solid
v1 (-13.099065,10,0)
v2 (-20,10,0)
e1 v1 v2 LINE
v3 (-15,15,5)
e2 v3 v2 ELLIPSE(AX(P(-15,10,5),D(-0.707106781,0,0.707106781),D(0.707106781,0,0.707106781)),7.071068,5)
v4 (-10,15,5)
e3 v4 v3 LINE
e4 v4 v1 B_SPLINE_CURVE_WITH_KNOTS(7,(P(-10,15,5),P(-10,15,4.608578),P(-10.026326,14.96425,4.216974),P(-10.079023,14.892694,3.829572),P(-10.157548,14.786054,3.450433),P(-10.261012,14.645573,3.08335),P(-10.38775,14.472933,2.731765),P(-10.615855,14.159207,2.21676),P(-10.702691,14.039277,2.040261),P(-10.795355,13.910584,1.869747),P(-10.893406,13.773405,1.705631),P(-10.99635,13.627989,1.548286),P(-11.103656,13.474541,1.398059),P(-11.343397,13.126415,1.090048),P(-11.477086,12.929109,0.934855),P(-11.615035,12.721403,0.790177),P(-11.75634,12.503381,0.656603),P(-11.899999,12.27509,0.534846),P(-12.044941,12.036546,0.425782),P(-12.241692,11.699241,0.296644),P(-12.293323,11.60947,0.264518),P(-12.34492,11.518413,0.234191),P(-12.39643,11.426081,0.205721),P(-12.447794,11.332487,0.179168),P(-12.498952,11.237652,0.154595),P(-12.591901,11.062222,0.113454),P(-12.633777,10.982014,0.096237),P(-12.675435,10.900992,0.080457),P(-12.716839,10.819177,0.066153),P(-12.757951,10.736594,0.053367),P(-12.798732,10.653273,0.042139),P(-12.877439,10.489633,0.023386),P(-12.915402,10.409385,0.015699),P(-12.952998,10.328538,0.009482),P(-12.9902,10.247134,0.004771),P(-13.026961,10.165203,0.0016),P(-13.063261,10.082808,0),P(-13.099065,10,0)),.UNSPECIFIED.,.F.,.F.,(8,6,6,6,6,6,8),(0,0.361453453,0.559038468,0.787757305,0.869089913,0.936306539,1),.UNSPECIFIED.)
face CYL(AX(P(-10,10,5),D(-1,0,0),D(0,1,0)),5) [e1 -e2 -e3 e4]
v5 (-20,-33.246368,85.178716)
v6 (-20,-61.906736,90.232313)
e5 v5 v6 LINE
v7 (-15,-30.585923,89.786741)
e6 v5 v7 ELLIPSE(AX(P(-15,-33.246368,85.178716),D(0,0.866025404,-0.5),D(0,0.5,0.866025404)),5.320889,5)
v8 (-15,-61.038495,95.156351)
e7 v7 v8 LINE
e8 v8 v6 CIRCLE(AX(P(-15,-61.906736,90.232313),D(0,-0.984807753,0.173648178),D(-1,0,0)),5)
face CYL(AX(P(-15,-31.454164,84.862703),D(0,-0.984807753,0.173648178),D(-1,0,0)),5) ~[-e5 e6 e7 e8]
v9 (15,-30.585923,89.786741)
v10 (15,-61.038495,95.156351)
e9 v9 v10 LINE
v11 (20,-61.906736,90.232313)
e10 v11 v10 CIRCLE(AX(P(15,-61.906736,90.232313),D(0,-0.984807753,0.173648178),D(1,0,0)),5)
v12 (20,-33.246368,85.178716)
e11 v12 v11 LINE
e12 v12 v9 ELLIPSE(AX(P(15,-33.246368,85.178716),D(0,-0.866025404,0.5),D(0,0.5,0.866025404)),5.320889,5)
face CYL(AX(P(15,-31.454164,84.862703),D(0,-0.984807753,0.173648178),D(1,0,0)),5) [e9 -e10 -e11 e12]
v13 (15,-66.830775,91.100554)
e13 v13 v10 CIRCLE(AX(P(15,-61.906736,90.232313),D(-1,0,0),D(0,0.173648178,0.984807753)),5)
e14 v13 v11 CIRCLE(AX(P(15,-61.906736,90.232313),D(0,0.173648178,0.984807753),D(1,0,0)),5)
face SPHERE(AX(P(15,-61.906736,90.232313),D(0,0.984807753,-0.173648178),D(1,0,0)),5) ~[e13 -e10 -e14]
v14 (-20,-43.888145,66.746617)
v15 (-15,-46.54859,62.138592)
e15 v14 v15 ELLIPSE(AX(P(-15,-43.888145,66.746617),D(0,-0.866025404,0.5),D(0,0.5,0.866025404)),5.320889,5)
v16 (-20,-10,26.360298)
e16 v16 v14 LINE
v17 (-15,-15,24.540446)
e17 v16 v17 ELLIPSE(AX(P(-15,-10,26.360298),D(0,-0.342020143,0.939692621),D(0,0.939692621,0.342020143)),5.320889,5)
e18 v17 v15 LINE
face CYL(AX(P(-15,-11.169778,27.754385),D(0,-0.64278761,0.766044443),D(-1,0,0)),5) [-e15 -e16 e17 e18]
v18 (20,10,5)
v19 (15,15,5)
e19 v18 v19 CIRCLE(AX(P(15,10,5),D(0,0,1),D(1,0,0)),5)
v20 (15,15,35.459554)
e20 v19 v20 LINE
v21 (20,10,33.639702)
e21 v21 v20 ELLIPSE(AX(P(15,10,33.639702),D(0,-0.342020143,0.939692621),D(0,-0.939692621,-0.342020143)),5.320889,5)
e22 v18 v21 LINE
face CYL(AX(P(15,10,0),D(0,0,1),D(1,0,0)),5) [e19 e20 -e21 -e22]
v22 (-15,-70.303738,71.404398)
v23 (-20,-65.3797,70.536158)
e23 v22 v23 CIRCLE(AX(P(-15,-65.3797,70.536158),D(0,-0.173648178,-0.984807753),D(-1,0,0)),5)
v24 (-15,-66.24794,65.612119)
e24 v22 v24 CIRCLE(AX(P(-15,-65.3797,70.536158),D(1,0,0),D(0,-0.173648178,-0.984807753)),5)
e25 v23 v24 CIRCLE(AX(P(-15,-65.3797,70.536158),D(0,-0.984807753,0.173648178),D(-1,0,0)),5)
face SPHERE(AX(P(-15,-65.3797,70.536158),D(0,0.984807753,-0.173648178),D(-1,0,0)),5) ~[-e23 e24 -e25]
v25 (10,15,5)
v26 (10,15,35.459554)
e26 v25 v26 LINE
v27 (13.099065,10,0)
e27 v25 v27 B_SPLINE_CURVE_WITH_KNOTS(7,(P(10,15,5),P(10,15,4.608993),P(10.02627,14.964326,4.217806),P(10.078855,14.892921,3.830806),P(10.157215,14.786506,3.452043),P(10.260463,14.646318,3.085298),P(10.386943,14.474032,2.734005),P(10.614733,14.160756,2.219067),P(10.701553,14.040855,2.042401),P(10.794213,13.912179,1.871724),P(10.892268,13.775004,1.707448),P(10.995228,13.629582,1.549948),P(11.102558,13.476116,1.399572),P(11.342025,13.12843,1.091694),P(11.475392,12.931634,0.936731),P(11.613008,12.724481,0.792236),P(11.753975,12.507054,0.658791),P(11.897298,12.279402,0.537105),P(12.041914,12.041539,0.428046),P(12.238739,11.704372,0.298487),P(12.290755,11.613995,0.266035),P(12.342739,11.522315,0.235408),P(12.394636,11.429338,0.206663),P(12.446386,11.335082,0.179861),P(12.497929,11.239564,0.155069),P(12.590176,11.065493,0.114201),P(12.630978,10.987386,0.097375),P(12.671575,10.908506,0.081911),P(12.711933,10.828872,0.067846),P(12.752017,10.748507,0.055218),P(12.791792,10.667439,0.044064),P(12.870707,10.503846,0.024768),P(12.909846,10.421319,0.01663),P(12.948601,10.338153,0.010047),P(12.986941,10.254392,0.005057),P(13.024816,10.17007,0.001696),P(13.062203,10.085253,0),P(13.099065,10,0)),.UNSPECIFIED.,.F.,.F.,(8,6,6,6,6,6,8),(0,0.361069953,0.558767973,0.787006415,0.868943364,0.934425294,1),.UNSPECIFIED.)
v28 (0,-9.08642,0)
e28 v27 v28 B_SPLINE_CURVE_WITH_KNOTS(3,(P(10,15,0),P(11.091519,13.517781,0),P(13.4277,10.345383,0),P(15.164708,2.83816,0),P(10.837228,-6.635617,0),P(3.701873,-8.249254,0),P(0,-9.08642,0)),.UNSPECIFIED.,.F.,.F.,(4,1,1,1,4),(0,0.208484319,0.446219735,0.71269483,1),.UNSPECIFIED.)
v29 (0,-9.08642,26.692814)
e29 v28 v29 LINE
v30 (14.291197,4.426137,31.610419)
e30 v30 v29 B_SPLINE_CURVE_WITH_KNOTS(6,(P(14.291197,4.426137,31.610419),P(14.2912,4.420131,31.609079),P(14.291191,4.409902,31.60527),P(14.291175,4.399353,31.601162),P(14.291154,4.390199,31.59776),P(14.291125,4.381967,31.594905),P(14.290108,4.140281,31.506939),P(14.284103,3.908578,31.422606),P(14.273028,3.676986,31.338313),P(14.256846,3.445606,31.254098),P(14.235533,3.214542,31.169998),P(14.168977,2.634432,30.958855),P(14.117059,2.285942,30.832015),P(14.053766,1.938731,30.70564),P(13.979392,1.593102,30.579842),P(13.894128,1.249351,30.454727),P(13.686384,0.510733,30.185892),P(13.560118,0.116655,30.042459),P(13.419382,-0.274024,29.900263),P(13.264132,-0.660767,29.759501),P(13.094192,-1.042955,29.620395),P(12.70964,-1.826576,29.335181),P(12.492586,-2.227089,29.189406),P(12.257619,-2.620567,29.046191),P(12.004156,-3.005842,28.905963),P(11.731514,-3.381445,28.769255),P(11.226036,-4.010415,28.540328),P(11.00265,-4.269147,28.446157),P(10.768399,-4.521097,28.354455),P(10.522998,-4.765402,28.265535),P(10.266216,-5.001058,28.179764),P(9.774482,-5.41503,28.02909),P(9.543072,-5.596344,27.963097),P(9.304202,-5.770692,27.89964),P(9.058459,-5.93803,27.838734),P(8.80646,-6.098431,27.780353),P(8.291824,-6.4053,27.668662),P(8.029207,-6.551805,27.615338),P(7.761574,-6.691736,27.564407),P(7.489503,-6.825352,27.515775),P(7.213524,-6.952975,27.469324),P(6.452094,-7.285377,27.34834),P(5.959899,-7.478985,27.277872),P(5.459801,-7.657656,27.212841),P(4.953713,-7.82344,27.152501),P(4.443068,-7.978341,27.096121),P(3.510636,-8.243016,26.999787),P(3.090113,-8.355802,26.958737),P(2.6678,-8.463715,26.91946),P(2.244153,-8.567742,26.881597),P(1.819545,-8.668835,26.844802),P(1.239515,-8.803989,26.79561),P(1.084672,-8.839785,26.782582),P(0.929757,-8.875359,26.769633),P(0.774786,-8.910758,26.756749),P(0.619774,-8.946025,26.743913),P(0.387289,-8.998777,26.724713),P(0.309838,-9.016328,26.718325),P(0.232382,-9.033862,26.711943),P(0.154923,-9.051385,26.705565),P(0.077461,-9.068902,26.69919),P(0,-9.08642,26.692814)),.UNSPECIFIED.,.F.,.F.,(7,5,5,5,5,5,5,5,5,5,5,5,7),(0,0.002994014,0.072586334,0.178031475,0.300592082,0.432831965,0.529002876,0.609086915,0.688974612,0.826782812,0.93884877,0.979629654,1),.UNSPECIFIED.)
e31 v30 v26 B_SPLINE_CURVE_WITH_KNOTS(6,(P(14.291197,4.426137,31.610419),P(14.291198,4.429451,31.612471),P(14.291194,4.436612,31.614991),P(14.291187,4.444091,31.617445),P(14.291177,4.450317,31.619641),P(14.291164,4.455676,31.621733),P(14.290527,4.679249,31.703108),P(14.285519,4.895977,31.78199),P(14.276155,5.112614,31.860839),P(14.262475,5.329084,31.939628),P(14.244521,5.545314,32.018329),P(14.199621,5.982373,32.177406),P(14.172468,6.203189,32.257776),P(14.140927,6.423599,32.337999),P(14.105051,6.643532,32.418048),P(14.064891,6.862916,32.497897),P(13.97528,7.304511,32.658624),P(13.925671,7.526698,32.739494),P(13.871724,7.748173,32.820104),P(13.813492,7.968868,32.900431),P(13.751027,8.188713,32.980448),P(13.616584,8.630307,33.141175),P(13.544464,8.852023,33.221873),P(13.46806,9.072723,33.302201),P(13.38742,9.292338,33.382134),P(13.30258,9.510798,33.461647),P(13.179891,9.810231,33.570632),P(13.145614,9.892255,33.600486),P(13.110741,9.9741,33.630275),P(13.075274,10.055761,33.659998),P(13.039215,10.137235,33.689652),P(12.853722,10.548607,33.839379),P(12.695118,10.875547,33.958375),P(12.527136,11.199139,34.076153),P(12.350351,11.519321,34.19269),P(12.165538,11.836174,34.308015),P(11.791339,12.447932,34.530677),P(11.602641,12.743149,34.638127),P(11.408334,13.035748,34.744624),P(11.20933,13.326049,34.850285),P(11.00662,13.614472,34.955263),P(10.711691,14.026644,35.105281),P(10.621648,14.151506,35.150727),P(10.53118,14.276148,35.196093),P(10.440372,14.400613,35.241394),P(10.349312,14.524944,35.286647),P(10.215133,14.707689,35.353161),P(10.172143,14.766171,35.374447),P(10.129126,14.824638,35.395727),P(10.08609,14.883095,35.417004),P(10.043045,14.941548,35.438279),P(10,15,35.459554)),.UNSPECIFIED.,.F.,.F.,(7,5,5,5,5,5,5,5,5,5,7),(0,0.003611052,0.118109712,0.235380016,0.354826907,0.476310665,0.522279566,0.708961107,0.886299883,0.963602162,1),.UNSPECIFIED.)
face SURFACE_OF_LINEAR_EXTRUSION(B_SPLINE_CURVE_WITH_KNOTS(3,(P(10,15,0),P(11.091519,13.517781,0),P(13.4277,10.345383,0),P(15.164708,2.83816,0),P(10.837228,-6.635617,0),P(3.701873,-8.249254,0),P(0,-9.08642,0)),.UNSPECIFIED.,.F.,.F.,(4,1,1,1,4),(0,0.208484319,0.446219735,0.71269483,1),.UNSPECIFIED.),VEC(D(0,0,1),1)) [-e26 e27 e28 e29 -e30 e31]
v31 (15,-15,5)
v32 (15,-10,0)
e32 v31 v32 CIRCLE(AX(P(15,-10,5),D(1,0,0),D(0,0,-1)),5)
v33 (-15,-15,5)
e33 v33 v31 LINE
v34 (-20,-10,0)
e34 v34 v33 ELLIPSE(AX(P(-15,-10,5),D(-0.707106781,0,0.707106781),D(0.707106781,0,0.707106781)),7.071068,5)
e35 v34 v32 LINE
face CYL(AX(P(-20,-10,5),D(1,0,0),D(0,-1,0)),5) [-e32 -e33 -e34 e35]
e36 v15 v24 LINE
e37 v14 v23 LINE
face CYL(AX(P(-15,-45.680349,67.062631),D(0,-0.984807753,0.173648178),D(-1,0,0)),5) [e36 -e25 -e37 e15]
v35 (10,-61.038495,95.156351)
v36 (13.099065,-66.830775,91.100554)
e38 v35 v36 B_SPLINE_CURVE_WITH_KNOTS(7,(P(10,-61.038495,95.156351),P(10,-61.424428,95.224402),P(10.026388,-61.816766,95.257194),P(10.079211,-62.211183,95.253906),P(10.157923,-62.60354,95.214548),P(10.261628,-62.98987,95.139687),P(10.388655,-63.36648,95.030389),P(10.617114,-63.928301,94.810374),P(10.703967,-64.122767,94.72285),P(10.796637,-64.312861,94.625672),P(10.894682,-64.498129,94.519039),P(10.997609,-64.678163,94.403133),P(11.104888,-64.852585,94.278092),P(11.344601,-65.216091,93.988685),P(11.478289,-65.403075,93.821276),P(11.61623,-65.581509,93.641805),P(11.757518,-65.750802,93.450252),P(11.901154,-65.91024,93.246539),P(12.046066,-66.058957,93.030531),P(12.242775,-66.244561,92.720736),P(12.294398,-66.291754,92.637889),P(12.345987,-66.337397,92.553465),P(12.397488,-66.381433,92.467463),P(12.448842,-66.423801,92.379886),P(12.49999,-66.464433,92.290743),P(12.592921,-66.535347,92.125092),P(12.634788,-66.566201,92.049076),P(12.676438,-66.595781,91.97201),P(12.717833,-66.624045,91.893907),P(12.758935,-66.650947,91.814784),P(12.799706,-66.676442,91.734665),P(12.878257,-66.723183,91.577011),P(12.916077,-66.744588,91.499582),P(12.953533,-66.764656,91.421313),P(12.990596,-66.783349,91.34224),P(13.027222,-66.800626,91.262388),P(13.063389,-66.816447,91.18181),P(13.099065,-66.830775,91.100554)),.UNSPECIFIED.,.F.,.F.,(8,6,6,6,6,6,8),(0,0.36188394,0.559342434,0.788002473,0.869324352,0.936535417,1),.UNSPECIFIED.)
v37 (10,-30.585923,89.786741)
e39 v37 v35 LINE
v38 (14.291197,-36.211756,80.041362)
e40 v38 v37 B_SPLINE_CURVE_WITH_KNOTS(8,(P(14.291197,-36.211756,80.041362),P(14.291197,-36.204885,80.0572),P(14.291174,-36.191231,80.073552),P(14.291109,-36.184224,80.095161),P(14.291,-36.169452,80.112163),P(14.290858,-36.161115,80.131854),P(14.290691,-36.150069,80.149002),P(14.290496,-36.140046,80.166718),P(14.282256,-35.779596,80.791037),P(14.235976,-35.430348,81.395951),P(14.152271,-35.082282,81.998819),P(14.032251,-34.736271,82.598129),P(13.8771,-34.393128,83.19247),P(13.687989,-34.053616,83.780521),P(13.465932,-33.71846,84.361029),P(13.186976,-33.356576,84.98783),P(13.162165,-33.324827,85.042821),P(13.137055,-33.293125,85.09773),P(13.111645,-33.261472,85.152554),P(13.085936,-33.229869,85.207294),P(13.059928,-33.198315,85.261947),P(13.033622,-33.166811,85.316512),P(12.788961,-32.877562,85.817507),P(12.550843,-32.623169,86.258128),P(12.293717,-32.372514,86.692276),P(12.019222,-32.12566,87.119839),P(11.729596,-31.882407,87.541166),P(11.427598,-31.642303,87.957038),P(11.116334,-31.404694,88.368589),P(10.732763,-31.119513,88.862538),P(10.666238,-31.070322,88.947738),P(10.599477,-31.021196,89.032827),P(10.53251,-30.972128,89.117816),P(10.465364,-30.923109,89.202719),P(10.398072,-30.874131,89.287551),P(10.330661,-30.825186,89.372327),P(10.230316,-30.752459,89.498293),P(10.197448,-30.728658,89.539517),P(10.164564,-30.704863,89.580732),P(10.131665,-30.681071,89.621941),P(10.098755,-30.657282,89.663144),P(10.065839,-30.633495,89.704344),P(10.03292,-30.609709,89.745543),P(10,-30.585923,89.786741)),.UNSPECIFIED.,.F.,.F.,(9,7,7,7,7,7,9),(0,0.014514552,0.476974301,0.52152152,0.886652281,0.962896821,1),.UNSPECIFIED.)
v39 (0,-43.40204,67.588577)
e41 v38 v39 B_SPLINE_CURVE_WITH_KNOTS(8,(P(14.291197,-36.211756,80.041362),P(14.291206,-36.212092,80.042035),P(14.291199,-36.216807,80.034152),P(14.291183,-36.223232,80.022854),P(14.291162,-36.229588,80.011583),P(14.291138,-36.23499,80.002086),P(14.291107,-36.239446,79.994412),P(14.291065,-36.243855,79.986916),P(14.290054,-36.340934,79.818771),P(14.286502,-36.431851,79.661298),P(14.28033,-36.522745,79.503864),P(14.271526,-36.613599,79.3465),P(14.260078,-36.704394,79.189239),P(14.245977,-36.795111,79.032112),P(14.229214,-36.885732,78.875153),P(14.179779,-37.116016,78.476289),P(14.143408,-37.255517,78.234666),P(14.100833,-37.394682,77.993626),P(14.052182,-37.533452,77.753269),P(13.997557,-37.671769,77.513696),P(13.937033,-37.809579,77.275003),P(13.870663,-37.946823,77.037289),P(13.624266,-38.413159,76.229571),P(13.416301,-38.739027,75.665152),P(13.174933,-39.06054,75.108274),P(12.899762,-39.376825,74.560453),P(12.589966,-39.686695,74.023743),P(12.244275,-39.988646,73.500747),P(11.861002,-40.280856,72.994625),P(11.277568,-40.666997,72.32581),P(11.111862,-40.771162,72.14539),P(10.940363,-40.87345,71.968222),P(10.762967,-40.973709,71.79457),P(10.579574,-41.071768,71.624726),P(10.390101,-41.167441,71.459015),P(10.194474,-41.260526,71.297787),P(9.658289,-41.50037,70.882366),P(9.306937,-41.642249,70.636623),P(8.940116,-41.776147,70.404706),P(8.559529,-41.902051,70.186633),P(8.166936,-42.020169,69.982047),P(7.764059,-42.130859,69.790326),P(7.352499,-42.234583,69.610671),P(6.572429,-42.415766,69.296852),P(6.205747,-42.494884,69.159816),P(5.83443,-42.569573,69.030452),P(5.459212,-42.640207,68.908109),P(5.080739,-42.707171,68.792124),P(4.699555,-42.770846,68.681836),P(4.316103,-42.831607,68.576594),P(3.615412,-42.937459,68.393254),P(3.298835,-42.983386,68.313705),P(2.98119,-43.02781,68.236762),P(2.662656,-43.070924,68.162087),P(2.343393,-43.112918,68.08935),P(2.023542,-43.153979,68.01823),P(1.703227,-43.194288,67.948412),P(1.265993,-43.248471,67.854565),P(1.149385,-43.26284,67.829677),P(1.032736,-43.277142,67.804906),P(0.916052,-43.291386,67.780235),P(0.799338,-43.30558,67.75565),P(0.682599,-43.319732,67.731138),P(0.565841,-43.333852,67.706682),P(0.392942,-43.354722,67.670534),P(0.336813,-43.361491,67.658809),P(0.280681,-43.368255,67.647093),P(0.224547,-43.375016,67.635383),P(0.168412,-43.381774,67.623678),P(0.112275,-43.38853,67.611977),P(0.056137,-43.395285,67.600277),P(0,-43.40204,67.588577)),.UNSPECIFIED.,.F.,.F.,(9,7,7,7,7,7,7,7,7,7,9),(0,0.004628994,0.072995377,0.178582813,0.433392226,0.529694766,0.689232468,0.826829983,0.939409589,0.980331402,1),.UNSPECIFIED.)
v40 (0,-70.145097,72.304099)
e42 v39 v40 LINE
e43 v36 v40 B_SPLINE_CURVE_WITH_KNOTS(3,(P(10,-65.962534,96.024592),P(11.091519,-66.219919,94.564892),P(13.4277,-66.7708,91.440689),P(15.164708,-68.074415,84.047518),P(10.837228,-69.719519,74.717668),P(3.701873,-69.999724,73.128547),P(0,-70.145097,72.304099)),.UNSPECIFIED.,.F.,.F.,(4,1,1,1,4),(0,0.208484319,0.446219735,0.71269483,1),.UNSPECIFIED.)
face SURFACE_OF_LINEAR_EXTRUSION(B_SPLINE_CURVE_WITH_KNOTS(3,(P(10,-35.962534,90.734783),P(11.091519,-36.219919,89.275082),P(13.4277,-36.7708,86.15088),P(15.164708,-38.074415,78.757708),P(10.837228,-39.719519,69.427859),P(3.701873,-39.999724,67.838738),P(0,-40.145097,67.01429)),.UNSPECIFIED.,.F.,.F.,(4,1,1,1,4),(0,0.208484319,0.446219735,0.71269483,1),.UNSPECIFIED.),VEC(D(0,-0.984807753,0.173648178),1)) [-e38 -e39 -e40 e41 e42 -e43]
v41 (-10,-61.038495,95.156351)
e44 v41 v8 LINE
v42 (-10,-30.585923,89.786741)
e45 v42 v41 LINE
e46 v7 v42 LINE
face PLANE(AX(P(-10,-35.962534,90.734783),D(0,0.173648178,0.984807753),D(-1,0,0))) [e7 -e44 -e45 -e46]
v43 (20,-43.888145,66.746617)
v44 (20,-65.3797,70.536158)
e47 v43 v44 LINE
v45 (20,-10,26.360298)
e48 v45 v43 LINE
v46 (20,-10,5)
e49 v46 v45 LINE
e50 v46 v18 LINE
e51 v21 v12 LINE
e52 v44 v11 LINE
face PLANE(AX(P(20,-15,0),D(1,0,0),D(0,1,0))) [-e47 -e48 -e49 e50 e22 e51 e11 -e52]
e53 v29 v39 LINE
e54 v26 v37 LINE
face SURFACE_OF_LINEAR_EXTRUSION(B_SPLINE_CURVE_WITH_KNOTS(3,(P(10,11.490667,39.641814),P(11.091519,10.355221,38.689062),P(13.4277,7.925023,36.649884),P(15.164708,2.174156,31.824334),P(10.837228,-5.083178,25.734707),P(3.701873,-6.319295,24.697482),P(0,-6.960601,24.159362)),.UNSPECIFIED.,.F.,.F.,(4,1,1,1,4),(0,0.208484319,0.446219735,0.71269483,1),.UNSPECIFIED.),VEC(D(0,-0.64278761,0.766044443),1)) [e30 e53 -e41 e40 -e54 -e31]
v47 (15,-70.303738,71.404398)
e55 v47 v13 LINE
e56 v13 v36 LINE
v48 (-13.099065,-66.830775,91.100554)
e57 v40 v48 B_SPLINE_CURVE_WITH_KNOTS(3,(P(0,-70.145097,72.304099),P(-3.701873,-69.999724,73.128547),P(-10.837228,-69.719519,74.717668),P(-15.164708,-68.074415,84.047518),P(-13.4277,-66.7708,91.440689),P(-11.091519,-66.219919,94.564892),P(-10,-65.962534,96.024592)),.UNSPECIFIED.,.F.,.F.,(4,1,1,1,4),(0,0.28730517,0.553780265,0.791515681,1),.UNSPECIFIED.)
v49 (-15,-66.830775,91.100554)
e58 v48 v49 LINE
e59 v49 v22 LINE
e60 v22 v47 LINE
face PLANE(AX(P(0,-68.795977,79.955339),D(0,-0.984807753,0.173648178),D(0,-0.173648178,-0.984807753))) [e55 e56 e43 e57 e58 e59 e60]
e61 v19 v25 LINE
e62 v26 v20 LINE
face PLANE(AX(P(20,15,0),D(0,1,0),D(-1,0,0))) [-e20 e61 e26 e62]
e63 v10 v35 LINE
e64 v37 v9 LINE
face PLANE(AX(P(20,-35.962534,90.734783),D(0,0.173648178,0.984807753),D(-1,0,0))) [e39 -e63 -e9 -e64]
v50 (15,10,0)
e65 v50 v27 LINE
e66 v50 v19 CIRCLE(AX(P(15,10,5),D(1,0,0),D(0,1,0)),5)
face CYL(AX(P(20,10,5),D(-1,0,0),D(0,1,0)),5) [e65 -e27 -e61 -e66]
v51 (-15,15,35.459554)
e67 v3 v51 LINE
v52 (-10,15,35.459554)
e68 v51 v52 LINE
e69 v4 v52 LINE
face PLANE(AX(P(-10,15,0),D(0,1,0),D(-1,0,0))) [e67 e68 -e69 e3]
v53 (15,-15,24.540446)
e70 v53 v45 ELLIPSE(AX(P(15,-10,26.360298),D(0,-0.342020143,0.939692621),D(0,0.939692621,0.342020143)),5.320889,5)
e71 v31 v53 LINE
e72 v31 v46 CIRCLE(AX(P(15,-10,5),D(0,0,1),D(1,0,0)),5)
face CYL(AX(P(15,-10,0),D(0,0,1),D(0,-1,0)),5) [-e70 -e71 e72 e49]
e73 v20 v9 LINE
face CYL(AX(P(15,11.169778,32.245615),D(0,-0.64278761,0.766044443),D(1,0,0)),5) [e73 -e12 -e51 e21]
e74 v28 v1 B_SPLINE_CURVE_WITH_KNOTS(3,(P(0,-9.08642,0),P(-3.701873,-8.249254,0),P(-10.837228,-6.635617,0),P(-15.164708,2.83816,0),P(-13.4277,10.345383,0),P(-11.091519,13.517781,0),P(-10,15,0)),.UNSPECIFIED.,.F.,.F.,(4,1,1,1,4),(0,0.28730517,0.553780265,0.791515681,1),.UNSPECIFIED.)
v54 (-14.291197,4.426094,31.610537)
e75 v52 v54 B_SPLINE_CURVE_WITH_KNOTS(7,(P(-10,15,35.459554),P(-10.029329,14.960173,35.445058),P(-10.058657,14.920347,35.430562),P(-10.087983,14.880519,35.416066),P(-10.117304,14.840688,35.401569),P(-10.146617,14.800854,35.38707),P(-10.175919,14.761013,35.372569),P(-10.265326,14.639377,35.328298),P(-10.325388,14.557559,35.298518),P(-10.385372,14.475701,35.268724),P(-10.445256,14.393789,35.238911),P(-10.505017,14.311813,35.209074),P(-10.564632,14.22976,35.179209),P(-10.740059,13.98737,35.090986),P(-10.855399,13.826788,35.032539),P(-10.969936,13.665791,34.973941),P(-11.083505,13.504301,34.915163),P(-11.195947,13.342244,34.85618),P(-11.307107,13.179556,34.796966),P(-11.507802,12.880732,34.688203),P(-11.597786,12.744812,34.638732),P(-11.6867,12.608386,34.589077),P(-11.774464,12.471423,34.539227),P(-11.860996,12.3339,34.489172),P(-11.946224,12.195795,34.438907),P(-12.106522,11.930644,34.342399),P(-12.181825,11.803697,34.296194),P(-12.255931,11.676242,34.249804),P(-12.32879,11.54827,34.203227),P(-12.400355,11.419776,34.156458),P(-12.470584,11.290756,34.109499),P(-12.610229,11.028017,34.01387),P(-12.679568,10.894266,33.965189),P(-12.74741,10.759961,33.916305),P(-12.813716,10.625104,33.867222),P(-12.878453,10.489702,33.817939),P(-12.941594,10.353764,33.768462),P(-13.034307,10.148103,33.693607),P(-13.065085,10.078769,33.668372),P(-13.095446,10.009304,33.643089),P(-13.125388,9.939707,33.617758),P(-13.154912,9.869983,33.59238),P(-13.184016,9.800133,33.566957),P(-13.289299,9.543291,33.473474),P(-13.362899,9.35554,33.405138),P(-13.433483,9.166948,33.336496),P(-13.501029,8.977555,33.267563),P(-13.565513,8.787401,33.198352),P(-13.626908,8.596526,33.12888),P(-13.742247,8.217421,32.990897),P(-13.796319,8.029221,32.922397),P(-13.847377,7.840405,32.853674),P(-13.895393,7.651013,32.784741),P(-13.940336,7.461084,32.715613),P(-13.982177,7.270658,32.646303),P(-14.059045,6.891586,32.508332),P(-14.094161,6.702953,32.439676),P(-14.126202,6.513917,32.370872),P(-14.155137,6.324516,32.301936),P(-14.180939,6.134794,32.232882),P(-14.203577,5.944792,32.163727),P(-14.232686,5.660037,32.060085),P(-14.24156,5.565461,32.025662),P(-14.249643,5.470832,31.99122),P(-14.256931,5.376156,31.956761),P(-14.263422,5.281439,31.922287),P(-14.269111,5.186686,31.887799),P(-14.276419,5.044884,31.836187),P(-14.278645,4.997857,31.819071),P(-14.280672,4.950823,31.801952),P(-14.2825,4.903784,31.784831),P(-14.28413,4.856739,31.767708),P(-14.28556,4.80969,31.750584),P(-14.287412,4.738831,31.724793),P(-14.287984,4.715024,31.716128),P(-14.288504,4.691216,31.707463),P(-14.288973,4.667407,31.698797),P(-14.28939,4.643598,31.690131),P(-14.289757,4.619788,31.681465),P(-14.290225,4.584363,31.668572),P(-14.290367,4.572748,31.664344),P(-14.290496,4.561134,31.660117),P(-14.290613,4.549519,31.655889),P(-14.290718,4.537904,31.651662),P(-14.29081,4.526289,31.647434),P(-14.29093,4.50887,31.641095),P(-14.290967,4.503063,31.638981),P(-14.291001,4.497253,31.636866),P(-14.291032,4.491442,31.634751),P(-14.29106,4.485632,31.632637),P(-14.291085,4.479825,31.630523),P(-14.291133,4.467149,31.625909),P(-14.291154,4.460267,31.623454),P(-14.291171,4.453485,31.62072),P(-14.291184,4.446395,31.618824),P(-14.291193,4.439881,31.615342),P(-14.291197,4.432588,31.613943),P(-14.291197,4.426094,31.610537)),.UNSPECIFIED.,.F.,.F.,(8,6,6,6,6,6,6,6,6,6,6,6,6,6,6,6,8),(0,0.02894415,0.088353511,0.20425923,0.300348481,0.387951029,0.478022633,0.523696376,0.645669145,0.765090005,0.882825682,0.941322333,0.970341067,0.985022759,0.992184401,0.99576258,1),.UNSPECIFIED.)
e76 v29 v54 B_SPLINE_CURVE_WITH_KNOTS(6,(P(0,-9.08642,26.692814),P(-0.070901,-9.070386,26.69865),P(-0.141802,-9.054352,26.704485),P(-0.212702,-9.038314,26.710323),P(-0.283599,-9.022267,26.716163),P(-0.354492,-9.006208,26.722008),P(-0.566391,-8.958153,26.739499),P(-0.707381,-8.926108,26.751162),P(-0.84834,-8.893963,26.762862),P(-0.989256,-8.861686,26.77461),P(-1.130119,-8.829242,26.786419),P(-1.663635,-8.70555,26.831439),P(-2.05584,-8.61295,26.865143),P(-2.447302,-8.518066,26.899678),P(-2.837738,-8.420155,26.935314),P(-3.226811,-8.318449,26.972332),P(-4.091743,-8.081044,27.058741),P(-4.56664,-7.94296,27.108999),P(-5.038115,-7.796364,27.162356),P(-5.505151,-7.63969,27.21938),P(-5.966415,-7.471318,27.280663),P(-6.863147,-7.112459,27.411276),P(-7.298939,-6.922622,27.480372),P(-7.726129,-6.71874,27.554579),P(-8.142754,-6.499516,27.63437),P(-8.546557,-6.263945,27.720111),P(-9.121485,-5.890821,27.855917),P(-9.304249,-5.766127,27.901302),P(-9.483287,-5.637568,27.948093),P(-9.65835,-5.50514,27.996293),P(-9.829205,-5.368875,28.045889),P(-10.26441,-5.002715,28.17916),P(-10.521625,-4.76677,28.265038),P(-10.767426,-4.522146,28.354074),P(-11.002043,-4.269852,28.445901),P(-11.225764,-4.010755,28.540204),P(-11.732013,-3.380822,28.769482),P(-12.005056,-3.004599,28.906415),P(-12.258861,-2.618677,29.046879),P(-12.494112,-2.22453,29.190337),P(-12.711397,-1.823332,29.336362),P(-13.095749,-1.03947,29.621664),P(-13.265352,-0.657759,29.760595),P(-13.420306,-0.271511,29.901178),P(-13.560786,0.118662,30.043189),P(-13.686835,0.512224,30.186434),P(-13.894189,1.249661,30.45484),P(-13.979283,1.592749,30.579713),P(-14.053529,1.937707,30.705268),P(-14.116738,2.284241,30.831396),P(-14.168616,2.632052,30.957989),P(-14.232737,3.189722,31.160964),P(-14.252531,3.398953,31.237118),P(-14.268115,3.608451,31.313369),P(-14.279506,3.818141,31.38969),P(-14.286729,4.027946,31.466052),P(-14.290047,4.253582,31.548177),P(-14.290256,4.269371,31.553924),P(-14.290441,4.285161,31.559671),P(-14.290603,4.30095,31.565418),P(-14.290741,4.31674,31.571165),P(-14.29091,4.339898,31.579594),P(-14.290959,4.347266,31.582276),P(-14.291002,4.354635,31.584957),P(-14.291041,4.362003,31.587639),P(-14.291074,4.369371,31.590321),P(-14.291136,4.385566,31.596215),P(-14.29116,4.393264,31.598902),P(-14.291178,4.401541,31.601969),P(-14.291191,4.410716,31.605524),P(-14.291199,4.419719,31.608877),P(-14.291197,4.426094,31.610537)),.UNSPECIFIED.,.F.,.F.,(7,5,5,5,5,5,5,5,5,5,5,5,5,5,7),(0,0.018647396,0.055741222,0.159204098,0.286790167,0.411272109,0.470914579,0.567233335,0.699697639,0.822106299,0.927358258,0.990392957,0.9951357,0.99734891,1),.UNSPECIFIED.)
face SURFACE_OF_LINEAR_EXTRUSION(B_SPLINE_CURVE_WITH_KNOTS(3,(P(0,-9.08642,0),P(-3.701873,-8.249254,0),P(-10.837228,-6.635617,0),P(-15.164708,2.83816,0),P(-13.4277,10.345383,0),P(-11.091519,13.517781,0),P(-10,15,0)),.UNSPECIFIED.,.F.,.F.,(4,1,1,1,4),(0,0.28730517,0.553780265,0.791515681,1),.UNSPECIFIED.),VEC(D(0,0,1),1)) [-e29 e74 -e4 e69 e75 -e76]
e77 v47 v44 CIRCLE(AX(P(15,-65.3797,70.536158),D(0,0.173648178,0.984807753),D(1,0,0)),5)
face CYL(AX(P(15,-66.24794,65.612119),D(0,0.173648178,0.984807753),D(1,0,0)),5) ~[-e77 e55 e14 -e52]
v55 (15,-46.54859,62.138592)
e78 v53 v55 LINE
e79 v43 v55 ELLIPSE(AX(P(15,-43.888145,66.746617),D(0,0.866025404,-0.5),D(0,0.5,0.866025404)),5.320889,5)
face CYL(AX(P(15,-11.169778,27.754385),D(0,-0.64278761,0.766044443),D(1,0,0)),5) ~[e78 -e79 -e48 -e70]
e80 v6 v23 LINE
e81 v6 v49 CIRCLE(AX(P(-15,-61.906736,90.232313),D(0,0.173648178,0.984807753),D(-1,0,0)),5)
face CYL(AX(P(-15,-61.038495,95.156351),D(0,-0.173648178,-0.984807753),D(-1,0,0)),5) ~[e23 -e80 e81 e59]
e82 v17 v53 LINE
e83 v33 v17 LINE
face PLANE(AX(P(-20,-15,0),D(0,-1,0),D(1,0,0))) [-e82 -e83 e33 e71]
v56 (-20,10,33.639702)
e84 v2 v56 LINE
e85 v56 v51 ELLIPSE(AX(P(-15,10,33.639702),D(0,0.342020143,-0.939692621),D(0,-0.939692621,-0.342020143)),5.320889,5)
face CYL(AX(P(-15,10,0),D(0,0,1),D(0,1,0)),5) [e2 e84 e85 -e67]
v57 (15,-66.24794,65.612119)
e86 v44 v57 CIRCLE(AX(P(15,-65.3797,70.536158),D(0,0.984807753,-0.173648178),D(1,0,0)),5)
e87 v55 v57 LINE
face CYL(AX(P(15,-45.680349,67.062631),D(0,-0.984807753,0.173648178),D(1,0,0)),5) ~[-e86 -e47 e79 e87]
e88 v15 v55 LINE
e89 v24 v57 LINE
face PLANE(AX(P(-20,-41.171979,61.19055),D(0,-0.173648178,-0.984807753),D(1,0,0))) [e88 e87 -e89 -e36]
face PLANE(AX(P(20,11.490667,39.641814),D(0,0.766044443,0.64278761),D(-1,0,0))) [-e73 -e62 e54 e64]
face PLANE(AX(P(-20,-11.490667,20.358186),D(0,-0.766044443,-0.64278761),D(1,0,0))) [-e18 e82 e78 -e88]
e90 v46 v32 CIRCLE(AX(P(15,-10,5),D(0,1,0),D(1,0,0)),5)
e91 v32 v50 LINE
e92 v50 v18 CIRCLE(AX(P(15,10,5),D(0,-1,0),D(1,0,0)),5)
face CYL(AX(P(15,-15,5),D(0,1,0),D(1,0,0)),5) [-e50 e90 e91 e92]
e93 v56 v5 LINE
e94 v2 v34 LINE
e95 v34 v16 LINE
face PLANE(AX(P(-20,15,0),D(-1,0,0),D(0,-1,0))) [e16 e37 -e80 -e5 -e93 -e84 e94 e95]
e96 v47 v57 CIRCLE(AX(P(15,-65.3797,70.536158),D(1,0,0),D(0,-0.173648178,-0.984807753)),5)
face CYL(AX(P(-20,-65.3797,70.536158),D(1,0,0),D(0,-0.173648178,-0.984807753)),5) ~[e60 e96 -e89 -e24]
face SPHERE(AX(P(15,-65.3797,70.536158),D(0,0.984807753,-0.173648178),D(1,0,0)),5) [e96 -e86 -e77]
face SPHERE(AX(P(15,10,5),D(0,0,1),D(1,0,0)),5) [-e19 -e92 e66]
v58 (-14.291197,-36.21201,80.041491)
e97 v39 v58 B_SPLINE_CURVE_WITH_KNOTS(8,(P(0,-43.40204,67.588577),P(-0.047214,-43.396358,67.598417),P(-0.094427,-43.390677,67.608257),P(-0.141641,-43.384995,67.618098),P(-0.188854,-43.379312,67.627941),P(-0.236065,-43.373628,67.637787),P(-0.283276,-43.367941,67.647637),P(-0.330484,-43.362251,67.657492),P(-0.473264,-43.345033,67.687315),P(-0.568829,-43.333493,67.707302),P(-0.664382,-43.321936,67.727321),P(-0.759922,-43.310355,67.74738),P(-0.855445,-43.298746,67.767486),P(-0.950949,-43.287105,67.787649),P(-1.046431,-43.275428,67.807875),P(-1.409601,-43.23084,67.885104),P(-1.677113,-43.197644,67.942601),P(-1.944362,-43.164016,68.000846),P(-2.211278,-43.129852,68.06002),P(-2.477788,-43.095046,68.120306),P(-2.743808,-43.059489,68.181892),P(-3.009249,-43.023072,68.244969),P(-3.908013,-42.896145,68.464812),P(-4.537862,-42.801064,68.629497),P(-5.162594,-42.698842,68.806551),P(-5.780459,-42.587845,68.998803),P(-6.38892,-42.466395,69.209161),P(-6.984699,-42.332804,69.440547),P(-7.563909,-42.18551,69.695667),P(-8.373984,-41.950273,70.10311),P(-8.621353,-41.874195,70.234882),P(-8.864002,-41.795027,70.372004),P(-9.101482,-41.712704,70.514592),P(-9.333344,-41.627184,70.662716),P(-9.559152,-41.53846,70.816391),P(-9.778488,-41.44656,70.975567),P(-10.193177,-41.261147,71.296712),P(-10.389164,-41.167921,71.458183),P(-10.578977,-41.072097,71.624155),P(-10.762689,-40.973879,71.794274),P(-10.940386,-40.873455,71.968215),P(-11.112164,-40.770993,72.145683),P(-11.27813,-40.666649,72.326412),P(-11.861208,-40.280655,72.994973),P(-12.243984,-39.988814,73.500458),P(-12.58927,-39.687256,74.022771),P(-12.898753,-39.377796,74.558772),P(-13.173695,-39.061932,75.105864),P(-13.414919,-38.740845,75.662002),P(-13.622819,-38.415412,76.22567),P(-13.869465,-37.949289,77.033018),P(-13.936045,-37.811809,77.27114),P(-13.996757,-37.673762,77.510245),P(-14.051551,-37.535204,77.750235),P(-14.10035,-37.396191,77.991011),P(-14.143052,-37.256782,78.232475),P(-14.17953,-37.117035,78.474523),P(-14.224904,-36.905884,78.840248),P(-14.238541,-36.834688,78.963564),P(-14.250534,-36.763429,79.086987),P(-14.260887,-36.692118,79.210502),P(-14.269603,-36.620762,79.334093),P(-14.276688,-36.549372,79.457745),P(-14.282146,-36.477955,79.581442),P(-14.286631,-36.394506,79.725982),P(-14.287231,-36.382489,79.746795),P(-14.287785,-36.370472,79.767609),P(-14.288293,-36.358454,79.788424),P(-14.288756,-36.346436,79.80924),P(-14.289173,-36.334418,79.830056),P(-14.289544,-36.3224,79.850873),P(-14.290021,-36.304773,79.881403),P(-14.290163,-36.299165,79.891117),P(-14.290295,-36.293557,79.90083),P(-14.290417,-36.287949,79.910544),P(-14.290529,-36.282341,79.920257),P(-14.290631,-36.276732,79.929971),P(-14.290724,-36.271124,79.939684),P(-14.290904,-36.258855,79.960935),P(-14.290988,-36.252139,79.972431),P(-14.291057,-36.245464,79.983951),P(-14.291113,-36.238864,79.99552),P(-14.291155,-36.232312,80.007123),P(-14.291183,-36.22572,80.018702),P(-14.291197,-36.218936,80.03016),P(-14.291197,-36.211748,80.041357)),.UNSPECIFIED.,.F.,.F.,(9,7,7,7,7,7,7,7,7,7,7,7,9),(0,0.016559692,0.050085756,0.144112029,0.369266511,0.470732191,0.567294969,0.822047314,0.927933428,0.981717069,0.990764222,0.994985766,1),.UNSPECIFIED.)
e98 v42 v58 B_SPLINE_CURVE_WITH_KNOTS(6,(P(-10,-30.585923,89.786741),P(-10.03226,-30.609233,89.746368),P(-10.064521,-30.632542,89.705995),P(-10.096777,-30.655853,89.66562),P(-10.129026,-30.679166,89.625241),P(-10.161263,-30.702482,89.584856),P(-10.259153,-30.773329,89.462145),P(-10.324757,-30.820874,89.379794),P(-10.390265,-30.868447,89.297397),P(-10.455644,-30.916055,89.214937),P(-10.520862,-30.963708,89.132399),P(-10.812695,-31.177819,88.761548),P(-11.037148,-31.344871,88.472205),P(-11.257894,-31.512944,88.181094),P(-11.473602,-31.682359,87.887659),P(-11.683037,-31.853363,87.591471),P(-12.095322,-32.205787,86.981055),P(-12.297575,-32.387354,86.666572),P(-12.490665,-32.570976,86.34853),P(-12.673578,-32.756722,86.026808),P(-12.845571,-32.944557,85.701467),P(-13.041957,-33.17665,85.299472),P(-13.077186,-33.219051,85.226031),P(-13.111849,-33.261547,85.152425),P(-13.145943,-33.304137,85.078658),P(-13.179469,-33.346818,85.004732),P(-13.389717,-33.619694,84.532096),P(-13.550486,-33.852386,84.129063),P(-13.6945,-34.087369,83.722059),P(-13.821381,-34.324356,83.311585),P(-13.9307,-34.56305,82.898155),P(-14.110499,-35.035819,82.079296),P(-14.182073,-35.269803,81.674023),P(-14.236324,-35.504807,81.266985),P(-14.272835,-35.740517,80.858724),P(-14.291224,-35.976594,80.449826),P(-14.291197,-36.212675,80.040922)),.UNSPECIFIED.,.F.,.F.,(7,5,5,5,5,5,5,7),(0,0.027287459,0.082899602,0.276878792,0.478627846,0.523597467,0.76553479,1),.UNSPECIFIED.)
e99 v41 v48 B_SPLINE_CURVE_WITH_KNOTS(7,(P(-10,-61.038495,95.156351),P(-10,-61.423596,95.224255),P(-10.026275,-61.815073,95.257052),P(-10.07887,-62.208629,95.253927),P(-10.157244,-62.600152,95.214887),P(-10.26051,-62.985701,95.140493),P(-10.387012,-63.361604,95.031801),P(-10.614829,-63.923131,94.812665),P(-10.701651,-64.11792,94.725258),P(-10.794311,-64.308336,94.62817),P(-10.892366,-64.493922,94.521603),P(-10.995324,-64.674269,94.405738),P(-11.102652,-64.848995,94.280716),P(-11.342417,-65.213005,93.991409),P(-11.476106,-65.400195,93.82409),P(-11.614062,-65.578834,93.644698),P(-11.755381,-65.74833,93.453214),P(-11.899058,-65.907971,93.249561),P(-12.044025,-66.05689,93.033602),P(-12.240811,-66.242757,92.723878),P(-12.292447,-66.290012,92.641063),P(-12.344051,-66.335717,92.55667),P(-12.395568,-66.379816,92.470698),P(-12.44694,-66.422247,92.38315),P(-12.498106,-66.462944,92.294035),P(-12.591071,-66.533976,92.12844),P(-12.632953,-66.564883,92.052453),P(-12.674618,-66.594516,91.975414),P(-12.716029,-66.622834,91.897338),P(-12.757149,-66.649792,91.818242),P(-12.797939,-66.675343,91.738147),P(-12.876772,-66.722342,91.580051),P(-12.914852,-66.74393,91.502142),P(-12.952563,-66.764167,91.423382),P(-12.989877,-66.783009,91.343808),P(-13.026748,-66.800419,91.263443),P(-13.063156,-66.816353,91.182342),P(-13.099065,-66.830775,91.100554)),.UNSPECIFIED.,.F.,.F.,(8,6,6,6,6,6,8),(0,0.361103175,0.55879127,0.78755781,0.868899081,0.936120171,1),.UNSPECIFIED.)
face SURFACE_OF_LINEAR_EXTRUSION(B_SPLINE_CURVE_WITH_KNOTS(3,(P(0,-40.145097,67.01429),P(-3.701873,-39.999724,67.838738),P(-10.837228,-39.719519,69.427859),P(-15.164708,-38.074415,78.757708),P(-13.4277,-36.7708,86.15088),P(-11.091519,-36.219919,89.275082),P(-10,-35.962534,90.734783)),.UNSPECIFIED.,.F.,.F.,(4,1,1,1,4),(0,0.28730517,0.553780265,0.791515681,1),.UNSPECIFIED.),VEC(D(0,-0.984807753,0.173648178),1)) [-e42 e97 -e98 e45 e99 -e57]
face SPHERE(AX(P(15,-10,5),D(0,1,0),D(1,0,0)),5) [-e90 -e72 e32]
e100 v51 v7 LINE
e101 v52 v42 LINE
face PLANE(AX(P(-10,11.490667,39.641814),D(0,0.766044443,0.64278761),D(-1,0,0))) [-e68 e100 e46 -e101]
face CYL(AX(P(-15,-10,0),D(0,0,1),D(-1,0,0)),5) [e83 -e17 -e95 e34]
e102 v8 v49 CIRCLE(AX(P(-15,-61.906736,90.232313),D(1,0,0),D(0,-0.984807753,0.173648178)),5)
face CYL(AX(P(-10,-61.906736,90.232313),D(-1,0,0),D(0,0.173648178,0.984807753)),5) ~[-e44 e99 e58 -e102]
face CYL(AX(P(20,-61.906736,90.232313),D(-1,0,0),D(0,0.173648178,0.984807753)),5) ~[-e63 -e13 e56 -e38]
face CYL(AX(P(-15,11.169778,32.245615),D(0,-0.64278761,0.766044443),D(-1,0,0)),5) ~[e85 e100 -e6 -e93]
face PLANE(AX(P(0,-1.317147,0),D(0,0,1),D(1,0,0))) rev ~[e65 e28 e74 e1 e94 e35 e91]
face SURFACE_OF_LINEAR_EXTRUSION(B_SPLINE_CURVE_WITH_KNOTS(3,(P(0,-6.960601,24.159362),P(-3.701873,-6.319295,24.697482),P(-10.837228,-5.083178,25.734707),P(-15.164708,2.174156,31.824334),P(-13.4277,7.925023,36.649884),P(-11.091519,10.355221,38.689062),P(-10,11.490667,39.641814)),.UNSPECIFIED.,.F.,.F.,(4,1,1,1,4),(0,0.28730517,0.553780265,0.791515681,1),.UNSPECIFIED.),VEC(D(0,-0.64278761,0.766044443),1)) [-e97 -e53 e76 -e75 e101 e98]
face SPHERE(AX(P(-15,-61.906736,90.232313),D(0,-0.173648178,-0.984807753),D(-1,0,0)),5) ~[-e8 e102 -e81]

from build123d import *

# Parameters (mm, degrees)
F3_R = 5


with BuildPart() as f2:
    # F2: sweep along a path in F1
    with BuildLine(Plane.YZ) as f2_path:
        Line((0, 0), (0, 30))
        Line((0, 30), (-38.5672565812, 75.9626665871))
        Line((-38.5672565812, 75.9626665871), (-68.5672565812, 81.2524760084))
    # F0 (on Top) → F2 (sweep)
    with BuildSketch(Plane.XY):
        with BuildLine():
            Line((-10, 15), (-20, 15))
            Line((-20, 15), (-20, -15))
            Line((-20, -15), (20, -15))
            Line((20, -15), (20, 15))
            Line((20, 15), (10, 15))
            add(Edge.make_bspline(
                [(10, 15), (11.0915185913, 13.5177812127), (13.4276997431, 10.3453830316), (15.1647077967, 2.8381597184), (10.8372280842, -6.6356174494), (3.701873231, -8.2492537512), (0, -9.0864198282)],
                knots=[0, 0, 0, 0, 0.2084843189, 0.4462197347, 0.7126948299, 1, 1, 1, 1], degree=3))
            add(Edge.make_bspline(
                [(-10, 15), (-11.0915185913, 13.5177812127), (-13.4276997431, 10.3453830316), (-15.1647077967, 2.8381597184), (-10.8372280842, -6.6356174494), (-3.701873231, -8.2492537512), (0, -9.0864198282)],
                knots=[0, 0, 0, 0, 0.2084843189, 0.4462197347, 0.7126948299, 1, 1, 1, 1], degree=3))
        make_face()
    sweep(path=f2_path.line, transition=Transition.RIGHT)

    # F3
    f3_edges = [f2.edges().sort_by_distance(p)[0] for p in [
        (-20, -7.792962, 62.623147),
        (-20, 15, 17.729777),
        (-20, -15, 12.270223),
        (-20, -30.774295, 43.339519),
        (-20, -58.860285, 64.309476),
        (-20, -68.567257, 81.252476),
        (-20, -48.274229, 92.905667),
        (20, -7.792962, 62.623147),
        (20, 15, 17.729777),
        (20, -48.274229, 92.905667),
        (20, 0, 0),
        (20, -15, 12.270223),
        (20, -30.774295, 43.339519),
        (20, -58.860285, 64.309476),
        (20, -68.567257, 81.252476),
        (15, -65.962534, 96.024592),
        (-15, -65.962534, 96.024592),
        (0, -71.171979, 66.48036),
        (0, -15, 0),
        (-15, 15, 0),
        (15, 15, 0),
    ]]
    fillet(f3_edges, radius=F3_R)


solid = f2.part
